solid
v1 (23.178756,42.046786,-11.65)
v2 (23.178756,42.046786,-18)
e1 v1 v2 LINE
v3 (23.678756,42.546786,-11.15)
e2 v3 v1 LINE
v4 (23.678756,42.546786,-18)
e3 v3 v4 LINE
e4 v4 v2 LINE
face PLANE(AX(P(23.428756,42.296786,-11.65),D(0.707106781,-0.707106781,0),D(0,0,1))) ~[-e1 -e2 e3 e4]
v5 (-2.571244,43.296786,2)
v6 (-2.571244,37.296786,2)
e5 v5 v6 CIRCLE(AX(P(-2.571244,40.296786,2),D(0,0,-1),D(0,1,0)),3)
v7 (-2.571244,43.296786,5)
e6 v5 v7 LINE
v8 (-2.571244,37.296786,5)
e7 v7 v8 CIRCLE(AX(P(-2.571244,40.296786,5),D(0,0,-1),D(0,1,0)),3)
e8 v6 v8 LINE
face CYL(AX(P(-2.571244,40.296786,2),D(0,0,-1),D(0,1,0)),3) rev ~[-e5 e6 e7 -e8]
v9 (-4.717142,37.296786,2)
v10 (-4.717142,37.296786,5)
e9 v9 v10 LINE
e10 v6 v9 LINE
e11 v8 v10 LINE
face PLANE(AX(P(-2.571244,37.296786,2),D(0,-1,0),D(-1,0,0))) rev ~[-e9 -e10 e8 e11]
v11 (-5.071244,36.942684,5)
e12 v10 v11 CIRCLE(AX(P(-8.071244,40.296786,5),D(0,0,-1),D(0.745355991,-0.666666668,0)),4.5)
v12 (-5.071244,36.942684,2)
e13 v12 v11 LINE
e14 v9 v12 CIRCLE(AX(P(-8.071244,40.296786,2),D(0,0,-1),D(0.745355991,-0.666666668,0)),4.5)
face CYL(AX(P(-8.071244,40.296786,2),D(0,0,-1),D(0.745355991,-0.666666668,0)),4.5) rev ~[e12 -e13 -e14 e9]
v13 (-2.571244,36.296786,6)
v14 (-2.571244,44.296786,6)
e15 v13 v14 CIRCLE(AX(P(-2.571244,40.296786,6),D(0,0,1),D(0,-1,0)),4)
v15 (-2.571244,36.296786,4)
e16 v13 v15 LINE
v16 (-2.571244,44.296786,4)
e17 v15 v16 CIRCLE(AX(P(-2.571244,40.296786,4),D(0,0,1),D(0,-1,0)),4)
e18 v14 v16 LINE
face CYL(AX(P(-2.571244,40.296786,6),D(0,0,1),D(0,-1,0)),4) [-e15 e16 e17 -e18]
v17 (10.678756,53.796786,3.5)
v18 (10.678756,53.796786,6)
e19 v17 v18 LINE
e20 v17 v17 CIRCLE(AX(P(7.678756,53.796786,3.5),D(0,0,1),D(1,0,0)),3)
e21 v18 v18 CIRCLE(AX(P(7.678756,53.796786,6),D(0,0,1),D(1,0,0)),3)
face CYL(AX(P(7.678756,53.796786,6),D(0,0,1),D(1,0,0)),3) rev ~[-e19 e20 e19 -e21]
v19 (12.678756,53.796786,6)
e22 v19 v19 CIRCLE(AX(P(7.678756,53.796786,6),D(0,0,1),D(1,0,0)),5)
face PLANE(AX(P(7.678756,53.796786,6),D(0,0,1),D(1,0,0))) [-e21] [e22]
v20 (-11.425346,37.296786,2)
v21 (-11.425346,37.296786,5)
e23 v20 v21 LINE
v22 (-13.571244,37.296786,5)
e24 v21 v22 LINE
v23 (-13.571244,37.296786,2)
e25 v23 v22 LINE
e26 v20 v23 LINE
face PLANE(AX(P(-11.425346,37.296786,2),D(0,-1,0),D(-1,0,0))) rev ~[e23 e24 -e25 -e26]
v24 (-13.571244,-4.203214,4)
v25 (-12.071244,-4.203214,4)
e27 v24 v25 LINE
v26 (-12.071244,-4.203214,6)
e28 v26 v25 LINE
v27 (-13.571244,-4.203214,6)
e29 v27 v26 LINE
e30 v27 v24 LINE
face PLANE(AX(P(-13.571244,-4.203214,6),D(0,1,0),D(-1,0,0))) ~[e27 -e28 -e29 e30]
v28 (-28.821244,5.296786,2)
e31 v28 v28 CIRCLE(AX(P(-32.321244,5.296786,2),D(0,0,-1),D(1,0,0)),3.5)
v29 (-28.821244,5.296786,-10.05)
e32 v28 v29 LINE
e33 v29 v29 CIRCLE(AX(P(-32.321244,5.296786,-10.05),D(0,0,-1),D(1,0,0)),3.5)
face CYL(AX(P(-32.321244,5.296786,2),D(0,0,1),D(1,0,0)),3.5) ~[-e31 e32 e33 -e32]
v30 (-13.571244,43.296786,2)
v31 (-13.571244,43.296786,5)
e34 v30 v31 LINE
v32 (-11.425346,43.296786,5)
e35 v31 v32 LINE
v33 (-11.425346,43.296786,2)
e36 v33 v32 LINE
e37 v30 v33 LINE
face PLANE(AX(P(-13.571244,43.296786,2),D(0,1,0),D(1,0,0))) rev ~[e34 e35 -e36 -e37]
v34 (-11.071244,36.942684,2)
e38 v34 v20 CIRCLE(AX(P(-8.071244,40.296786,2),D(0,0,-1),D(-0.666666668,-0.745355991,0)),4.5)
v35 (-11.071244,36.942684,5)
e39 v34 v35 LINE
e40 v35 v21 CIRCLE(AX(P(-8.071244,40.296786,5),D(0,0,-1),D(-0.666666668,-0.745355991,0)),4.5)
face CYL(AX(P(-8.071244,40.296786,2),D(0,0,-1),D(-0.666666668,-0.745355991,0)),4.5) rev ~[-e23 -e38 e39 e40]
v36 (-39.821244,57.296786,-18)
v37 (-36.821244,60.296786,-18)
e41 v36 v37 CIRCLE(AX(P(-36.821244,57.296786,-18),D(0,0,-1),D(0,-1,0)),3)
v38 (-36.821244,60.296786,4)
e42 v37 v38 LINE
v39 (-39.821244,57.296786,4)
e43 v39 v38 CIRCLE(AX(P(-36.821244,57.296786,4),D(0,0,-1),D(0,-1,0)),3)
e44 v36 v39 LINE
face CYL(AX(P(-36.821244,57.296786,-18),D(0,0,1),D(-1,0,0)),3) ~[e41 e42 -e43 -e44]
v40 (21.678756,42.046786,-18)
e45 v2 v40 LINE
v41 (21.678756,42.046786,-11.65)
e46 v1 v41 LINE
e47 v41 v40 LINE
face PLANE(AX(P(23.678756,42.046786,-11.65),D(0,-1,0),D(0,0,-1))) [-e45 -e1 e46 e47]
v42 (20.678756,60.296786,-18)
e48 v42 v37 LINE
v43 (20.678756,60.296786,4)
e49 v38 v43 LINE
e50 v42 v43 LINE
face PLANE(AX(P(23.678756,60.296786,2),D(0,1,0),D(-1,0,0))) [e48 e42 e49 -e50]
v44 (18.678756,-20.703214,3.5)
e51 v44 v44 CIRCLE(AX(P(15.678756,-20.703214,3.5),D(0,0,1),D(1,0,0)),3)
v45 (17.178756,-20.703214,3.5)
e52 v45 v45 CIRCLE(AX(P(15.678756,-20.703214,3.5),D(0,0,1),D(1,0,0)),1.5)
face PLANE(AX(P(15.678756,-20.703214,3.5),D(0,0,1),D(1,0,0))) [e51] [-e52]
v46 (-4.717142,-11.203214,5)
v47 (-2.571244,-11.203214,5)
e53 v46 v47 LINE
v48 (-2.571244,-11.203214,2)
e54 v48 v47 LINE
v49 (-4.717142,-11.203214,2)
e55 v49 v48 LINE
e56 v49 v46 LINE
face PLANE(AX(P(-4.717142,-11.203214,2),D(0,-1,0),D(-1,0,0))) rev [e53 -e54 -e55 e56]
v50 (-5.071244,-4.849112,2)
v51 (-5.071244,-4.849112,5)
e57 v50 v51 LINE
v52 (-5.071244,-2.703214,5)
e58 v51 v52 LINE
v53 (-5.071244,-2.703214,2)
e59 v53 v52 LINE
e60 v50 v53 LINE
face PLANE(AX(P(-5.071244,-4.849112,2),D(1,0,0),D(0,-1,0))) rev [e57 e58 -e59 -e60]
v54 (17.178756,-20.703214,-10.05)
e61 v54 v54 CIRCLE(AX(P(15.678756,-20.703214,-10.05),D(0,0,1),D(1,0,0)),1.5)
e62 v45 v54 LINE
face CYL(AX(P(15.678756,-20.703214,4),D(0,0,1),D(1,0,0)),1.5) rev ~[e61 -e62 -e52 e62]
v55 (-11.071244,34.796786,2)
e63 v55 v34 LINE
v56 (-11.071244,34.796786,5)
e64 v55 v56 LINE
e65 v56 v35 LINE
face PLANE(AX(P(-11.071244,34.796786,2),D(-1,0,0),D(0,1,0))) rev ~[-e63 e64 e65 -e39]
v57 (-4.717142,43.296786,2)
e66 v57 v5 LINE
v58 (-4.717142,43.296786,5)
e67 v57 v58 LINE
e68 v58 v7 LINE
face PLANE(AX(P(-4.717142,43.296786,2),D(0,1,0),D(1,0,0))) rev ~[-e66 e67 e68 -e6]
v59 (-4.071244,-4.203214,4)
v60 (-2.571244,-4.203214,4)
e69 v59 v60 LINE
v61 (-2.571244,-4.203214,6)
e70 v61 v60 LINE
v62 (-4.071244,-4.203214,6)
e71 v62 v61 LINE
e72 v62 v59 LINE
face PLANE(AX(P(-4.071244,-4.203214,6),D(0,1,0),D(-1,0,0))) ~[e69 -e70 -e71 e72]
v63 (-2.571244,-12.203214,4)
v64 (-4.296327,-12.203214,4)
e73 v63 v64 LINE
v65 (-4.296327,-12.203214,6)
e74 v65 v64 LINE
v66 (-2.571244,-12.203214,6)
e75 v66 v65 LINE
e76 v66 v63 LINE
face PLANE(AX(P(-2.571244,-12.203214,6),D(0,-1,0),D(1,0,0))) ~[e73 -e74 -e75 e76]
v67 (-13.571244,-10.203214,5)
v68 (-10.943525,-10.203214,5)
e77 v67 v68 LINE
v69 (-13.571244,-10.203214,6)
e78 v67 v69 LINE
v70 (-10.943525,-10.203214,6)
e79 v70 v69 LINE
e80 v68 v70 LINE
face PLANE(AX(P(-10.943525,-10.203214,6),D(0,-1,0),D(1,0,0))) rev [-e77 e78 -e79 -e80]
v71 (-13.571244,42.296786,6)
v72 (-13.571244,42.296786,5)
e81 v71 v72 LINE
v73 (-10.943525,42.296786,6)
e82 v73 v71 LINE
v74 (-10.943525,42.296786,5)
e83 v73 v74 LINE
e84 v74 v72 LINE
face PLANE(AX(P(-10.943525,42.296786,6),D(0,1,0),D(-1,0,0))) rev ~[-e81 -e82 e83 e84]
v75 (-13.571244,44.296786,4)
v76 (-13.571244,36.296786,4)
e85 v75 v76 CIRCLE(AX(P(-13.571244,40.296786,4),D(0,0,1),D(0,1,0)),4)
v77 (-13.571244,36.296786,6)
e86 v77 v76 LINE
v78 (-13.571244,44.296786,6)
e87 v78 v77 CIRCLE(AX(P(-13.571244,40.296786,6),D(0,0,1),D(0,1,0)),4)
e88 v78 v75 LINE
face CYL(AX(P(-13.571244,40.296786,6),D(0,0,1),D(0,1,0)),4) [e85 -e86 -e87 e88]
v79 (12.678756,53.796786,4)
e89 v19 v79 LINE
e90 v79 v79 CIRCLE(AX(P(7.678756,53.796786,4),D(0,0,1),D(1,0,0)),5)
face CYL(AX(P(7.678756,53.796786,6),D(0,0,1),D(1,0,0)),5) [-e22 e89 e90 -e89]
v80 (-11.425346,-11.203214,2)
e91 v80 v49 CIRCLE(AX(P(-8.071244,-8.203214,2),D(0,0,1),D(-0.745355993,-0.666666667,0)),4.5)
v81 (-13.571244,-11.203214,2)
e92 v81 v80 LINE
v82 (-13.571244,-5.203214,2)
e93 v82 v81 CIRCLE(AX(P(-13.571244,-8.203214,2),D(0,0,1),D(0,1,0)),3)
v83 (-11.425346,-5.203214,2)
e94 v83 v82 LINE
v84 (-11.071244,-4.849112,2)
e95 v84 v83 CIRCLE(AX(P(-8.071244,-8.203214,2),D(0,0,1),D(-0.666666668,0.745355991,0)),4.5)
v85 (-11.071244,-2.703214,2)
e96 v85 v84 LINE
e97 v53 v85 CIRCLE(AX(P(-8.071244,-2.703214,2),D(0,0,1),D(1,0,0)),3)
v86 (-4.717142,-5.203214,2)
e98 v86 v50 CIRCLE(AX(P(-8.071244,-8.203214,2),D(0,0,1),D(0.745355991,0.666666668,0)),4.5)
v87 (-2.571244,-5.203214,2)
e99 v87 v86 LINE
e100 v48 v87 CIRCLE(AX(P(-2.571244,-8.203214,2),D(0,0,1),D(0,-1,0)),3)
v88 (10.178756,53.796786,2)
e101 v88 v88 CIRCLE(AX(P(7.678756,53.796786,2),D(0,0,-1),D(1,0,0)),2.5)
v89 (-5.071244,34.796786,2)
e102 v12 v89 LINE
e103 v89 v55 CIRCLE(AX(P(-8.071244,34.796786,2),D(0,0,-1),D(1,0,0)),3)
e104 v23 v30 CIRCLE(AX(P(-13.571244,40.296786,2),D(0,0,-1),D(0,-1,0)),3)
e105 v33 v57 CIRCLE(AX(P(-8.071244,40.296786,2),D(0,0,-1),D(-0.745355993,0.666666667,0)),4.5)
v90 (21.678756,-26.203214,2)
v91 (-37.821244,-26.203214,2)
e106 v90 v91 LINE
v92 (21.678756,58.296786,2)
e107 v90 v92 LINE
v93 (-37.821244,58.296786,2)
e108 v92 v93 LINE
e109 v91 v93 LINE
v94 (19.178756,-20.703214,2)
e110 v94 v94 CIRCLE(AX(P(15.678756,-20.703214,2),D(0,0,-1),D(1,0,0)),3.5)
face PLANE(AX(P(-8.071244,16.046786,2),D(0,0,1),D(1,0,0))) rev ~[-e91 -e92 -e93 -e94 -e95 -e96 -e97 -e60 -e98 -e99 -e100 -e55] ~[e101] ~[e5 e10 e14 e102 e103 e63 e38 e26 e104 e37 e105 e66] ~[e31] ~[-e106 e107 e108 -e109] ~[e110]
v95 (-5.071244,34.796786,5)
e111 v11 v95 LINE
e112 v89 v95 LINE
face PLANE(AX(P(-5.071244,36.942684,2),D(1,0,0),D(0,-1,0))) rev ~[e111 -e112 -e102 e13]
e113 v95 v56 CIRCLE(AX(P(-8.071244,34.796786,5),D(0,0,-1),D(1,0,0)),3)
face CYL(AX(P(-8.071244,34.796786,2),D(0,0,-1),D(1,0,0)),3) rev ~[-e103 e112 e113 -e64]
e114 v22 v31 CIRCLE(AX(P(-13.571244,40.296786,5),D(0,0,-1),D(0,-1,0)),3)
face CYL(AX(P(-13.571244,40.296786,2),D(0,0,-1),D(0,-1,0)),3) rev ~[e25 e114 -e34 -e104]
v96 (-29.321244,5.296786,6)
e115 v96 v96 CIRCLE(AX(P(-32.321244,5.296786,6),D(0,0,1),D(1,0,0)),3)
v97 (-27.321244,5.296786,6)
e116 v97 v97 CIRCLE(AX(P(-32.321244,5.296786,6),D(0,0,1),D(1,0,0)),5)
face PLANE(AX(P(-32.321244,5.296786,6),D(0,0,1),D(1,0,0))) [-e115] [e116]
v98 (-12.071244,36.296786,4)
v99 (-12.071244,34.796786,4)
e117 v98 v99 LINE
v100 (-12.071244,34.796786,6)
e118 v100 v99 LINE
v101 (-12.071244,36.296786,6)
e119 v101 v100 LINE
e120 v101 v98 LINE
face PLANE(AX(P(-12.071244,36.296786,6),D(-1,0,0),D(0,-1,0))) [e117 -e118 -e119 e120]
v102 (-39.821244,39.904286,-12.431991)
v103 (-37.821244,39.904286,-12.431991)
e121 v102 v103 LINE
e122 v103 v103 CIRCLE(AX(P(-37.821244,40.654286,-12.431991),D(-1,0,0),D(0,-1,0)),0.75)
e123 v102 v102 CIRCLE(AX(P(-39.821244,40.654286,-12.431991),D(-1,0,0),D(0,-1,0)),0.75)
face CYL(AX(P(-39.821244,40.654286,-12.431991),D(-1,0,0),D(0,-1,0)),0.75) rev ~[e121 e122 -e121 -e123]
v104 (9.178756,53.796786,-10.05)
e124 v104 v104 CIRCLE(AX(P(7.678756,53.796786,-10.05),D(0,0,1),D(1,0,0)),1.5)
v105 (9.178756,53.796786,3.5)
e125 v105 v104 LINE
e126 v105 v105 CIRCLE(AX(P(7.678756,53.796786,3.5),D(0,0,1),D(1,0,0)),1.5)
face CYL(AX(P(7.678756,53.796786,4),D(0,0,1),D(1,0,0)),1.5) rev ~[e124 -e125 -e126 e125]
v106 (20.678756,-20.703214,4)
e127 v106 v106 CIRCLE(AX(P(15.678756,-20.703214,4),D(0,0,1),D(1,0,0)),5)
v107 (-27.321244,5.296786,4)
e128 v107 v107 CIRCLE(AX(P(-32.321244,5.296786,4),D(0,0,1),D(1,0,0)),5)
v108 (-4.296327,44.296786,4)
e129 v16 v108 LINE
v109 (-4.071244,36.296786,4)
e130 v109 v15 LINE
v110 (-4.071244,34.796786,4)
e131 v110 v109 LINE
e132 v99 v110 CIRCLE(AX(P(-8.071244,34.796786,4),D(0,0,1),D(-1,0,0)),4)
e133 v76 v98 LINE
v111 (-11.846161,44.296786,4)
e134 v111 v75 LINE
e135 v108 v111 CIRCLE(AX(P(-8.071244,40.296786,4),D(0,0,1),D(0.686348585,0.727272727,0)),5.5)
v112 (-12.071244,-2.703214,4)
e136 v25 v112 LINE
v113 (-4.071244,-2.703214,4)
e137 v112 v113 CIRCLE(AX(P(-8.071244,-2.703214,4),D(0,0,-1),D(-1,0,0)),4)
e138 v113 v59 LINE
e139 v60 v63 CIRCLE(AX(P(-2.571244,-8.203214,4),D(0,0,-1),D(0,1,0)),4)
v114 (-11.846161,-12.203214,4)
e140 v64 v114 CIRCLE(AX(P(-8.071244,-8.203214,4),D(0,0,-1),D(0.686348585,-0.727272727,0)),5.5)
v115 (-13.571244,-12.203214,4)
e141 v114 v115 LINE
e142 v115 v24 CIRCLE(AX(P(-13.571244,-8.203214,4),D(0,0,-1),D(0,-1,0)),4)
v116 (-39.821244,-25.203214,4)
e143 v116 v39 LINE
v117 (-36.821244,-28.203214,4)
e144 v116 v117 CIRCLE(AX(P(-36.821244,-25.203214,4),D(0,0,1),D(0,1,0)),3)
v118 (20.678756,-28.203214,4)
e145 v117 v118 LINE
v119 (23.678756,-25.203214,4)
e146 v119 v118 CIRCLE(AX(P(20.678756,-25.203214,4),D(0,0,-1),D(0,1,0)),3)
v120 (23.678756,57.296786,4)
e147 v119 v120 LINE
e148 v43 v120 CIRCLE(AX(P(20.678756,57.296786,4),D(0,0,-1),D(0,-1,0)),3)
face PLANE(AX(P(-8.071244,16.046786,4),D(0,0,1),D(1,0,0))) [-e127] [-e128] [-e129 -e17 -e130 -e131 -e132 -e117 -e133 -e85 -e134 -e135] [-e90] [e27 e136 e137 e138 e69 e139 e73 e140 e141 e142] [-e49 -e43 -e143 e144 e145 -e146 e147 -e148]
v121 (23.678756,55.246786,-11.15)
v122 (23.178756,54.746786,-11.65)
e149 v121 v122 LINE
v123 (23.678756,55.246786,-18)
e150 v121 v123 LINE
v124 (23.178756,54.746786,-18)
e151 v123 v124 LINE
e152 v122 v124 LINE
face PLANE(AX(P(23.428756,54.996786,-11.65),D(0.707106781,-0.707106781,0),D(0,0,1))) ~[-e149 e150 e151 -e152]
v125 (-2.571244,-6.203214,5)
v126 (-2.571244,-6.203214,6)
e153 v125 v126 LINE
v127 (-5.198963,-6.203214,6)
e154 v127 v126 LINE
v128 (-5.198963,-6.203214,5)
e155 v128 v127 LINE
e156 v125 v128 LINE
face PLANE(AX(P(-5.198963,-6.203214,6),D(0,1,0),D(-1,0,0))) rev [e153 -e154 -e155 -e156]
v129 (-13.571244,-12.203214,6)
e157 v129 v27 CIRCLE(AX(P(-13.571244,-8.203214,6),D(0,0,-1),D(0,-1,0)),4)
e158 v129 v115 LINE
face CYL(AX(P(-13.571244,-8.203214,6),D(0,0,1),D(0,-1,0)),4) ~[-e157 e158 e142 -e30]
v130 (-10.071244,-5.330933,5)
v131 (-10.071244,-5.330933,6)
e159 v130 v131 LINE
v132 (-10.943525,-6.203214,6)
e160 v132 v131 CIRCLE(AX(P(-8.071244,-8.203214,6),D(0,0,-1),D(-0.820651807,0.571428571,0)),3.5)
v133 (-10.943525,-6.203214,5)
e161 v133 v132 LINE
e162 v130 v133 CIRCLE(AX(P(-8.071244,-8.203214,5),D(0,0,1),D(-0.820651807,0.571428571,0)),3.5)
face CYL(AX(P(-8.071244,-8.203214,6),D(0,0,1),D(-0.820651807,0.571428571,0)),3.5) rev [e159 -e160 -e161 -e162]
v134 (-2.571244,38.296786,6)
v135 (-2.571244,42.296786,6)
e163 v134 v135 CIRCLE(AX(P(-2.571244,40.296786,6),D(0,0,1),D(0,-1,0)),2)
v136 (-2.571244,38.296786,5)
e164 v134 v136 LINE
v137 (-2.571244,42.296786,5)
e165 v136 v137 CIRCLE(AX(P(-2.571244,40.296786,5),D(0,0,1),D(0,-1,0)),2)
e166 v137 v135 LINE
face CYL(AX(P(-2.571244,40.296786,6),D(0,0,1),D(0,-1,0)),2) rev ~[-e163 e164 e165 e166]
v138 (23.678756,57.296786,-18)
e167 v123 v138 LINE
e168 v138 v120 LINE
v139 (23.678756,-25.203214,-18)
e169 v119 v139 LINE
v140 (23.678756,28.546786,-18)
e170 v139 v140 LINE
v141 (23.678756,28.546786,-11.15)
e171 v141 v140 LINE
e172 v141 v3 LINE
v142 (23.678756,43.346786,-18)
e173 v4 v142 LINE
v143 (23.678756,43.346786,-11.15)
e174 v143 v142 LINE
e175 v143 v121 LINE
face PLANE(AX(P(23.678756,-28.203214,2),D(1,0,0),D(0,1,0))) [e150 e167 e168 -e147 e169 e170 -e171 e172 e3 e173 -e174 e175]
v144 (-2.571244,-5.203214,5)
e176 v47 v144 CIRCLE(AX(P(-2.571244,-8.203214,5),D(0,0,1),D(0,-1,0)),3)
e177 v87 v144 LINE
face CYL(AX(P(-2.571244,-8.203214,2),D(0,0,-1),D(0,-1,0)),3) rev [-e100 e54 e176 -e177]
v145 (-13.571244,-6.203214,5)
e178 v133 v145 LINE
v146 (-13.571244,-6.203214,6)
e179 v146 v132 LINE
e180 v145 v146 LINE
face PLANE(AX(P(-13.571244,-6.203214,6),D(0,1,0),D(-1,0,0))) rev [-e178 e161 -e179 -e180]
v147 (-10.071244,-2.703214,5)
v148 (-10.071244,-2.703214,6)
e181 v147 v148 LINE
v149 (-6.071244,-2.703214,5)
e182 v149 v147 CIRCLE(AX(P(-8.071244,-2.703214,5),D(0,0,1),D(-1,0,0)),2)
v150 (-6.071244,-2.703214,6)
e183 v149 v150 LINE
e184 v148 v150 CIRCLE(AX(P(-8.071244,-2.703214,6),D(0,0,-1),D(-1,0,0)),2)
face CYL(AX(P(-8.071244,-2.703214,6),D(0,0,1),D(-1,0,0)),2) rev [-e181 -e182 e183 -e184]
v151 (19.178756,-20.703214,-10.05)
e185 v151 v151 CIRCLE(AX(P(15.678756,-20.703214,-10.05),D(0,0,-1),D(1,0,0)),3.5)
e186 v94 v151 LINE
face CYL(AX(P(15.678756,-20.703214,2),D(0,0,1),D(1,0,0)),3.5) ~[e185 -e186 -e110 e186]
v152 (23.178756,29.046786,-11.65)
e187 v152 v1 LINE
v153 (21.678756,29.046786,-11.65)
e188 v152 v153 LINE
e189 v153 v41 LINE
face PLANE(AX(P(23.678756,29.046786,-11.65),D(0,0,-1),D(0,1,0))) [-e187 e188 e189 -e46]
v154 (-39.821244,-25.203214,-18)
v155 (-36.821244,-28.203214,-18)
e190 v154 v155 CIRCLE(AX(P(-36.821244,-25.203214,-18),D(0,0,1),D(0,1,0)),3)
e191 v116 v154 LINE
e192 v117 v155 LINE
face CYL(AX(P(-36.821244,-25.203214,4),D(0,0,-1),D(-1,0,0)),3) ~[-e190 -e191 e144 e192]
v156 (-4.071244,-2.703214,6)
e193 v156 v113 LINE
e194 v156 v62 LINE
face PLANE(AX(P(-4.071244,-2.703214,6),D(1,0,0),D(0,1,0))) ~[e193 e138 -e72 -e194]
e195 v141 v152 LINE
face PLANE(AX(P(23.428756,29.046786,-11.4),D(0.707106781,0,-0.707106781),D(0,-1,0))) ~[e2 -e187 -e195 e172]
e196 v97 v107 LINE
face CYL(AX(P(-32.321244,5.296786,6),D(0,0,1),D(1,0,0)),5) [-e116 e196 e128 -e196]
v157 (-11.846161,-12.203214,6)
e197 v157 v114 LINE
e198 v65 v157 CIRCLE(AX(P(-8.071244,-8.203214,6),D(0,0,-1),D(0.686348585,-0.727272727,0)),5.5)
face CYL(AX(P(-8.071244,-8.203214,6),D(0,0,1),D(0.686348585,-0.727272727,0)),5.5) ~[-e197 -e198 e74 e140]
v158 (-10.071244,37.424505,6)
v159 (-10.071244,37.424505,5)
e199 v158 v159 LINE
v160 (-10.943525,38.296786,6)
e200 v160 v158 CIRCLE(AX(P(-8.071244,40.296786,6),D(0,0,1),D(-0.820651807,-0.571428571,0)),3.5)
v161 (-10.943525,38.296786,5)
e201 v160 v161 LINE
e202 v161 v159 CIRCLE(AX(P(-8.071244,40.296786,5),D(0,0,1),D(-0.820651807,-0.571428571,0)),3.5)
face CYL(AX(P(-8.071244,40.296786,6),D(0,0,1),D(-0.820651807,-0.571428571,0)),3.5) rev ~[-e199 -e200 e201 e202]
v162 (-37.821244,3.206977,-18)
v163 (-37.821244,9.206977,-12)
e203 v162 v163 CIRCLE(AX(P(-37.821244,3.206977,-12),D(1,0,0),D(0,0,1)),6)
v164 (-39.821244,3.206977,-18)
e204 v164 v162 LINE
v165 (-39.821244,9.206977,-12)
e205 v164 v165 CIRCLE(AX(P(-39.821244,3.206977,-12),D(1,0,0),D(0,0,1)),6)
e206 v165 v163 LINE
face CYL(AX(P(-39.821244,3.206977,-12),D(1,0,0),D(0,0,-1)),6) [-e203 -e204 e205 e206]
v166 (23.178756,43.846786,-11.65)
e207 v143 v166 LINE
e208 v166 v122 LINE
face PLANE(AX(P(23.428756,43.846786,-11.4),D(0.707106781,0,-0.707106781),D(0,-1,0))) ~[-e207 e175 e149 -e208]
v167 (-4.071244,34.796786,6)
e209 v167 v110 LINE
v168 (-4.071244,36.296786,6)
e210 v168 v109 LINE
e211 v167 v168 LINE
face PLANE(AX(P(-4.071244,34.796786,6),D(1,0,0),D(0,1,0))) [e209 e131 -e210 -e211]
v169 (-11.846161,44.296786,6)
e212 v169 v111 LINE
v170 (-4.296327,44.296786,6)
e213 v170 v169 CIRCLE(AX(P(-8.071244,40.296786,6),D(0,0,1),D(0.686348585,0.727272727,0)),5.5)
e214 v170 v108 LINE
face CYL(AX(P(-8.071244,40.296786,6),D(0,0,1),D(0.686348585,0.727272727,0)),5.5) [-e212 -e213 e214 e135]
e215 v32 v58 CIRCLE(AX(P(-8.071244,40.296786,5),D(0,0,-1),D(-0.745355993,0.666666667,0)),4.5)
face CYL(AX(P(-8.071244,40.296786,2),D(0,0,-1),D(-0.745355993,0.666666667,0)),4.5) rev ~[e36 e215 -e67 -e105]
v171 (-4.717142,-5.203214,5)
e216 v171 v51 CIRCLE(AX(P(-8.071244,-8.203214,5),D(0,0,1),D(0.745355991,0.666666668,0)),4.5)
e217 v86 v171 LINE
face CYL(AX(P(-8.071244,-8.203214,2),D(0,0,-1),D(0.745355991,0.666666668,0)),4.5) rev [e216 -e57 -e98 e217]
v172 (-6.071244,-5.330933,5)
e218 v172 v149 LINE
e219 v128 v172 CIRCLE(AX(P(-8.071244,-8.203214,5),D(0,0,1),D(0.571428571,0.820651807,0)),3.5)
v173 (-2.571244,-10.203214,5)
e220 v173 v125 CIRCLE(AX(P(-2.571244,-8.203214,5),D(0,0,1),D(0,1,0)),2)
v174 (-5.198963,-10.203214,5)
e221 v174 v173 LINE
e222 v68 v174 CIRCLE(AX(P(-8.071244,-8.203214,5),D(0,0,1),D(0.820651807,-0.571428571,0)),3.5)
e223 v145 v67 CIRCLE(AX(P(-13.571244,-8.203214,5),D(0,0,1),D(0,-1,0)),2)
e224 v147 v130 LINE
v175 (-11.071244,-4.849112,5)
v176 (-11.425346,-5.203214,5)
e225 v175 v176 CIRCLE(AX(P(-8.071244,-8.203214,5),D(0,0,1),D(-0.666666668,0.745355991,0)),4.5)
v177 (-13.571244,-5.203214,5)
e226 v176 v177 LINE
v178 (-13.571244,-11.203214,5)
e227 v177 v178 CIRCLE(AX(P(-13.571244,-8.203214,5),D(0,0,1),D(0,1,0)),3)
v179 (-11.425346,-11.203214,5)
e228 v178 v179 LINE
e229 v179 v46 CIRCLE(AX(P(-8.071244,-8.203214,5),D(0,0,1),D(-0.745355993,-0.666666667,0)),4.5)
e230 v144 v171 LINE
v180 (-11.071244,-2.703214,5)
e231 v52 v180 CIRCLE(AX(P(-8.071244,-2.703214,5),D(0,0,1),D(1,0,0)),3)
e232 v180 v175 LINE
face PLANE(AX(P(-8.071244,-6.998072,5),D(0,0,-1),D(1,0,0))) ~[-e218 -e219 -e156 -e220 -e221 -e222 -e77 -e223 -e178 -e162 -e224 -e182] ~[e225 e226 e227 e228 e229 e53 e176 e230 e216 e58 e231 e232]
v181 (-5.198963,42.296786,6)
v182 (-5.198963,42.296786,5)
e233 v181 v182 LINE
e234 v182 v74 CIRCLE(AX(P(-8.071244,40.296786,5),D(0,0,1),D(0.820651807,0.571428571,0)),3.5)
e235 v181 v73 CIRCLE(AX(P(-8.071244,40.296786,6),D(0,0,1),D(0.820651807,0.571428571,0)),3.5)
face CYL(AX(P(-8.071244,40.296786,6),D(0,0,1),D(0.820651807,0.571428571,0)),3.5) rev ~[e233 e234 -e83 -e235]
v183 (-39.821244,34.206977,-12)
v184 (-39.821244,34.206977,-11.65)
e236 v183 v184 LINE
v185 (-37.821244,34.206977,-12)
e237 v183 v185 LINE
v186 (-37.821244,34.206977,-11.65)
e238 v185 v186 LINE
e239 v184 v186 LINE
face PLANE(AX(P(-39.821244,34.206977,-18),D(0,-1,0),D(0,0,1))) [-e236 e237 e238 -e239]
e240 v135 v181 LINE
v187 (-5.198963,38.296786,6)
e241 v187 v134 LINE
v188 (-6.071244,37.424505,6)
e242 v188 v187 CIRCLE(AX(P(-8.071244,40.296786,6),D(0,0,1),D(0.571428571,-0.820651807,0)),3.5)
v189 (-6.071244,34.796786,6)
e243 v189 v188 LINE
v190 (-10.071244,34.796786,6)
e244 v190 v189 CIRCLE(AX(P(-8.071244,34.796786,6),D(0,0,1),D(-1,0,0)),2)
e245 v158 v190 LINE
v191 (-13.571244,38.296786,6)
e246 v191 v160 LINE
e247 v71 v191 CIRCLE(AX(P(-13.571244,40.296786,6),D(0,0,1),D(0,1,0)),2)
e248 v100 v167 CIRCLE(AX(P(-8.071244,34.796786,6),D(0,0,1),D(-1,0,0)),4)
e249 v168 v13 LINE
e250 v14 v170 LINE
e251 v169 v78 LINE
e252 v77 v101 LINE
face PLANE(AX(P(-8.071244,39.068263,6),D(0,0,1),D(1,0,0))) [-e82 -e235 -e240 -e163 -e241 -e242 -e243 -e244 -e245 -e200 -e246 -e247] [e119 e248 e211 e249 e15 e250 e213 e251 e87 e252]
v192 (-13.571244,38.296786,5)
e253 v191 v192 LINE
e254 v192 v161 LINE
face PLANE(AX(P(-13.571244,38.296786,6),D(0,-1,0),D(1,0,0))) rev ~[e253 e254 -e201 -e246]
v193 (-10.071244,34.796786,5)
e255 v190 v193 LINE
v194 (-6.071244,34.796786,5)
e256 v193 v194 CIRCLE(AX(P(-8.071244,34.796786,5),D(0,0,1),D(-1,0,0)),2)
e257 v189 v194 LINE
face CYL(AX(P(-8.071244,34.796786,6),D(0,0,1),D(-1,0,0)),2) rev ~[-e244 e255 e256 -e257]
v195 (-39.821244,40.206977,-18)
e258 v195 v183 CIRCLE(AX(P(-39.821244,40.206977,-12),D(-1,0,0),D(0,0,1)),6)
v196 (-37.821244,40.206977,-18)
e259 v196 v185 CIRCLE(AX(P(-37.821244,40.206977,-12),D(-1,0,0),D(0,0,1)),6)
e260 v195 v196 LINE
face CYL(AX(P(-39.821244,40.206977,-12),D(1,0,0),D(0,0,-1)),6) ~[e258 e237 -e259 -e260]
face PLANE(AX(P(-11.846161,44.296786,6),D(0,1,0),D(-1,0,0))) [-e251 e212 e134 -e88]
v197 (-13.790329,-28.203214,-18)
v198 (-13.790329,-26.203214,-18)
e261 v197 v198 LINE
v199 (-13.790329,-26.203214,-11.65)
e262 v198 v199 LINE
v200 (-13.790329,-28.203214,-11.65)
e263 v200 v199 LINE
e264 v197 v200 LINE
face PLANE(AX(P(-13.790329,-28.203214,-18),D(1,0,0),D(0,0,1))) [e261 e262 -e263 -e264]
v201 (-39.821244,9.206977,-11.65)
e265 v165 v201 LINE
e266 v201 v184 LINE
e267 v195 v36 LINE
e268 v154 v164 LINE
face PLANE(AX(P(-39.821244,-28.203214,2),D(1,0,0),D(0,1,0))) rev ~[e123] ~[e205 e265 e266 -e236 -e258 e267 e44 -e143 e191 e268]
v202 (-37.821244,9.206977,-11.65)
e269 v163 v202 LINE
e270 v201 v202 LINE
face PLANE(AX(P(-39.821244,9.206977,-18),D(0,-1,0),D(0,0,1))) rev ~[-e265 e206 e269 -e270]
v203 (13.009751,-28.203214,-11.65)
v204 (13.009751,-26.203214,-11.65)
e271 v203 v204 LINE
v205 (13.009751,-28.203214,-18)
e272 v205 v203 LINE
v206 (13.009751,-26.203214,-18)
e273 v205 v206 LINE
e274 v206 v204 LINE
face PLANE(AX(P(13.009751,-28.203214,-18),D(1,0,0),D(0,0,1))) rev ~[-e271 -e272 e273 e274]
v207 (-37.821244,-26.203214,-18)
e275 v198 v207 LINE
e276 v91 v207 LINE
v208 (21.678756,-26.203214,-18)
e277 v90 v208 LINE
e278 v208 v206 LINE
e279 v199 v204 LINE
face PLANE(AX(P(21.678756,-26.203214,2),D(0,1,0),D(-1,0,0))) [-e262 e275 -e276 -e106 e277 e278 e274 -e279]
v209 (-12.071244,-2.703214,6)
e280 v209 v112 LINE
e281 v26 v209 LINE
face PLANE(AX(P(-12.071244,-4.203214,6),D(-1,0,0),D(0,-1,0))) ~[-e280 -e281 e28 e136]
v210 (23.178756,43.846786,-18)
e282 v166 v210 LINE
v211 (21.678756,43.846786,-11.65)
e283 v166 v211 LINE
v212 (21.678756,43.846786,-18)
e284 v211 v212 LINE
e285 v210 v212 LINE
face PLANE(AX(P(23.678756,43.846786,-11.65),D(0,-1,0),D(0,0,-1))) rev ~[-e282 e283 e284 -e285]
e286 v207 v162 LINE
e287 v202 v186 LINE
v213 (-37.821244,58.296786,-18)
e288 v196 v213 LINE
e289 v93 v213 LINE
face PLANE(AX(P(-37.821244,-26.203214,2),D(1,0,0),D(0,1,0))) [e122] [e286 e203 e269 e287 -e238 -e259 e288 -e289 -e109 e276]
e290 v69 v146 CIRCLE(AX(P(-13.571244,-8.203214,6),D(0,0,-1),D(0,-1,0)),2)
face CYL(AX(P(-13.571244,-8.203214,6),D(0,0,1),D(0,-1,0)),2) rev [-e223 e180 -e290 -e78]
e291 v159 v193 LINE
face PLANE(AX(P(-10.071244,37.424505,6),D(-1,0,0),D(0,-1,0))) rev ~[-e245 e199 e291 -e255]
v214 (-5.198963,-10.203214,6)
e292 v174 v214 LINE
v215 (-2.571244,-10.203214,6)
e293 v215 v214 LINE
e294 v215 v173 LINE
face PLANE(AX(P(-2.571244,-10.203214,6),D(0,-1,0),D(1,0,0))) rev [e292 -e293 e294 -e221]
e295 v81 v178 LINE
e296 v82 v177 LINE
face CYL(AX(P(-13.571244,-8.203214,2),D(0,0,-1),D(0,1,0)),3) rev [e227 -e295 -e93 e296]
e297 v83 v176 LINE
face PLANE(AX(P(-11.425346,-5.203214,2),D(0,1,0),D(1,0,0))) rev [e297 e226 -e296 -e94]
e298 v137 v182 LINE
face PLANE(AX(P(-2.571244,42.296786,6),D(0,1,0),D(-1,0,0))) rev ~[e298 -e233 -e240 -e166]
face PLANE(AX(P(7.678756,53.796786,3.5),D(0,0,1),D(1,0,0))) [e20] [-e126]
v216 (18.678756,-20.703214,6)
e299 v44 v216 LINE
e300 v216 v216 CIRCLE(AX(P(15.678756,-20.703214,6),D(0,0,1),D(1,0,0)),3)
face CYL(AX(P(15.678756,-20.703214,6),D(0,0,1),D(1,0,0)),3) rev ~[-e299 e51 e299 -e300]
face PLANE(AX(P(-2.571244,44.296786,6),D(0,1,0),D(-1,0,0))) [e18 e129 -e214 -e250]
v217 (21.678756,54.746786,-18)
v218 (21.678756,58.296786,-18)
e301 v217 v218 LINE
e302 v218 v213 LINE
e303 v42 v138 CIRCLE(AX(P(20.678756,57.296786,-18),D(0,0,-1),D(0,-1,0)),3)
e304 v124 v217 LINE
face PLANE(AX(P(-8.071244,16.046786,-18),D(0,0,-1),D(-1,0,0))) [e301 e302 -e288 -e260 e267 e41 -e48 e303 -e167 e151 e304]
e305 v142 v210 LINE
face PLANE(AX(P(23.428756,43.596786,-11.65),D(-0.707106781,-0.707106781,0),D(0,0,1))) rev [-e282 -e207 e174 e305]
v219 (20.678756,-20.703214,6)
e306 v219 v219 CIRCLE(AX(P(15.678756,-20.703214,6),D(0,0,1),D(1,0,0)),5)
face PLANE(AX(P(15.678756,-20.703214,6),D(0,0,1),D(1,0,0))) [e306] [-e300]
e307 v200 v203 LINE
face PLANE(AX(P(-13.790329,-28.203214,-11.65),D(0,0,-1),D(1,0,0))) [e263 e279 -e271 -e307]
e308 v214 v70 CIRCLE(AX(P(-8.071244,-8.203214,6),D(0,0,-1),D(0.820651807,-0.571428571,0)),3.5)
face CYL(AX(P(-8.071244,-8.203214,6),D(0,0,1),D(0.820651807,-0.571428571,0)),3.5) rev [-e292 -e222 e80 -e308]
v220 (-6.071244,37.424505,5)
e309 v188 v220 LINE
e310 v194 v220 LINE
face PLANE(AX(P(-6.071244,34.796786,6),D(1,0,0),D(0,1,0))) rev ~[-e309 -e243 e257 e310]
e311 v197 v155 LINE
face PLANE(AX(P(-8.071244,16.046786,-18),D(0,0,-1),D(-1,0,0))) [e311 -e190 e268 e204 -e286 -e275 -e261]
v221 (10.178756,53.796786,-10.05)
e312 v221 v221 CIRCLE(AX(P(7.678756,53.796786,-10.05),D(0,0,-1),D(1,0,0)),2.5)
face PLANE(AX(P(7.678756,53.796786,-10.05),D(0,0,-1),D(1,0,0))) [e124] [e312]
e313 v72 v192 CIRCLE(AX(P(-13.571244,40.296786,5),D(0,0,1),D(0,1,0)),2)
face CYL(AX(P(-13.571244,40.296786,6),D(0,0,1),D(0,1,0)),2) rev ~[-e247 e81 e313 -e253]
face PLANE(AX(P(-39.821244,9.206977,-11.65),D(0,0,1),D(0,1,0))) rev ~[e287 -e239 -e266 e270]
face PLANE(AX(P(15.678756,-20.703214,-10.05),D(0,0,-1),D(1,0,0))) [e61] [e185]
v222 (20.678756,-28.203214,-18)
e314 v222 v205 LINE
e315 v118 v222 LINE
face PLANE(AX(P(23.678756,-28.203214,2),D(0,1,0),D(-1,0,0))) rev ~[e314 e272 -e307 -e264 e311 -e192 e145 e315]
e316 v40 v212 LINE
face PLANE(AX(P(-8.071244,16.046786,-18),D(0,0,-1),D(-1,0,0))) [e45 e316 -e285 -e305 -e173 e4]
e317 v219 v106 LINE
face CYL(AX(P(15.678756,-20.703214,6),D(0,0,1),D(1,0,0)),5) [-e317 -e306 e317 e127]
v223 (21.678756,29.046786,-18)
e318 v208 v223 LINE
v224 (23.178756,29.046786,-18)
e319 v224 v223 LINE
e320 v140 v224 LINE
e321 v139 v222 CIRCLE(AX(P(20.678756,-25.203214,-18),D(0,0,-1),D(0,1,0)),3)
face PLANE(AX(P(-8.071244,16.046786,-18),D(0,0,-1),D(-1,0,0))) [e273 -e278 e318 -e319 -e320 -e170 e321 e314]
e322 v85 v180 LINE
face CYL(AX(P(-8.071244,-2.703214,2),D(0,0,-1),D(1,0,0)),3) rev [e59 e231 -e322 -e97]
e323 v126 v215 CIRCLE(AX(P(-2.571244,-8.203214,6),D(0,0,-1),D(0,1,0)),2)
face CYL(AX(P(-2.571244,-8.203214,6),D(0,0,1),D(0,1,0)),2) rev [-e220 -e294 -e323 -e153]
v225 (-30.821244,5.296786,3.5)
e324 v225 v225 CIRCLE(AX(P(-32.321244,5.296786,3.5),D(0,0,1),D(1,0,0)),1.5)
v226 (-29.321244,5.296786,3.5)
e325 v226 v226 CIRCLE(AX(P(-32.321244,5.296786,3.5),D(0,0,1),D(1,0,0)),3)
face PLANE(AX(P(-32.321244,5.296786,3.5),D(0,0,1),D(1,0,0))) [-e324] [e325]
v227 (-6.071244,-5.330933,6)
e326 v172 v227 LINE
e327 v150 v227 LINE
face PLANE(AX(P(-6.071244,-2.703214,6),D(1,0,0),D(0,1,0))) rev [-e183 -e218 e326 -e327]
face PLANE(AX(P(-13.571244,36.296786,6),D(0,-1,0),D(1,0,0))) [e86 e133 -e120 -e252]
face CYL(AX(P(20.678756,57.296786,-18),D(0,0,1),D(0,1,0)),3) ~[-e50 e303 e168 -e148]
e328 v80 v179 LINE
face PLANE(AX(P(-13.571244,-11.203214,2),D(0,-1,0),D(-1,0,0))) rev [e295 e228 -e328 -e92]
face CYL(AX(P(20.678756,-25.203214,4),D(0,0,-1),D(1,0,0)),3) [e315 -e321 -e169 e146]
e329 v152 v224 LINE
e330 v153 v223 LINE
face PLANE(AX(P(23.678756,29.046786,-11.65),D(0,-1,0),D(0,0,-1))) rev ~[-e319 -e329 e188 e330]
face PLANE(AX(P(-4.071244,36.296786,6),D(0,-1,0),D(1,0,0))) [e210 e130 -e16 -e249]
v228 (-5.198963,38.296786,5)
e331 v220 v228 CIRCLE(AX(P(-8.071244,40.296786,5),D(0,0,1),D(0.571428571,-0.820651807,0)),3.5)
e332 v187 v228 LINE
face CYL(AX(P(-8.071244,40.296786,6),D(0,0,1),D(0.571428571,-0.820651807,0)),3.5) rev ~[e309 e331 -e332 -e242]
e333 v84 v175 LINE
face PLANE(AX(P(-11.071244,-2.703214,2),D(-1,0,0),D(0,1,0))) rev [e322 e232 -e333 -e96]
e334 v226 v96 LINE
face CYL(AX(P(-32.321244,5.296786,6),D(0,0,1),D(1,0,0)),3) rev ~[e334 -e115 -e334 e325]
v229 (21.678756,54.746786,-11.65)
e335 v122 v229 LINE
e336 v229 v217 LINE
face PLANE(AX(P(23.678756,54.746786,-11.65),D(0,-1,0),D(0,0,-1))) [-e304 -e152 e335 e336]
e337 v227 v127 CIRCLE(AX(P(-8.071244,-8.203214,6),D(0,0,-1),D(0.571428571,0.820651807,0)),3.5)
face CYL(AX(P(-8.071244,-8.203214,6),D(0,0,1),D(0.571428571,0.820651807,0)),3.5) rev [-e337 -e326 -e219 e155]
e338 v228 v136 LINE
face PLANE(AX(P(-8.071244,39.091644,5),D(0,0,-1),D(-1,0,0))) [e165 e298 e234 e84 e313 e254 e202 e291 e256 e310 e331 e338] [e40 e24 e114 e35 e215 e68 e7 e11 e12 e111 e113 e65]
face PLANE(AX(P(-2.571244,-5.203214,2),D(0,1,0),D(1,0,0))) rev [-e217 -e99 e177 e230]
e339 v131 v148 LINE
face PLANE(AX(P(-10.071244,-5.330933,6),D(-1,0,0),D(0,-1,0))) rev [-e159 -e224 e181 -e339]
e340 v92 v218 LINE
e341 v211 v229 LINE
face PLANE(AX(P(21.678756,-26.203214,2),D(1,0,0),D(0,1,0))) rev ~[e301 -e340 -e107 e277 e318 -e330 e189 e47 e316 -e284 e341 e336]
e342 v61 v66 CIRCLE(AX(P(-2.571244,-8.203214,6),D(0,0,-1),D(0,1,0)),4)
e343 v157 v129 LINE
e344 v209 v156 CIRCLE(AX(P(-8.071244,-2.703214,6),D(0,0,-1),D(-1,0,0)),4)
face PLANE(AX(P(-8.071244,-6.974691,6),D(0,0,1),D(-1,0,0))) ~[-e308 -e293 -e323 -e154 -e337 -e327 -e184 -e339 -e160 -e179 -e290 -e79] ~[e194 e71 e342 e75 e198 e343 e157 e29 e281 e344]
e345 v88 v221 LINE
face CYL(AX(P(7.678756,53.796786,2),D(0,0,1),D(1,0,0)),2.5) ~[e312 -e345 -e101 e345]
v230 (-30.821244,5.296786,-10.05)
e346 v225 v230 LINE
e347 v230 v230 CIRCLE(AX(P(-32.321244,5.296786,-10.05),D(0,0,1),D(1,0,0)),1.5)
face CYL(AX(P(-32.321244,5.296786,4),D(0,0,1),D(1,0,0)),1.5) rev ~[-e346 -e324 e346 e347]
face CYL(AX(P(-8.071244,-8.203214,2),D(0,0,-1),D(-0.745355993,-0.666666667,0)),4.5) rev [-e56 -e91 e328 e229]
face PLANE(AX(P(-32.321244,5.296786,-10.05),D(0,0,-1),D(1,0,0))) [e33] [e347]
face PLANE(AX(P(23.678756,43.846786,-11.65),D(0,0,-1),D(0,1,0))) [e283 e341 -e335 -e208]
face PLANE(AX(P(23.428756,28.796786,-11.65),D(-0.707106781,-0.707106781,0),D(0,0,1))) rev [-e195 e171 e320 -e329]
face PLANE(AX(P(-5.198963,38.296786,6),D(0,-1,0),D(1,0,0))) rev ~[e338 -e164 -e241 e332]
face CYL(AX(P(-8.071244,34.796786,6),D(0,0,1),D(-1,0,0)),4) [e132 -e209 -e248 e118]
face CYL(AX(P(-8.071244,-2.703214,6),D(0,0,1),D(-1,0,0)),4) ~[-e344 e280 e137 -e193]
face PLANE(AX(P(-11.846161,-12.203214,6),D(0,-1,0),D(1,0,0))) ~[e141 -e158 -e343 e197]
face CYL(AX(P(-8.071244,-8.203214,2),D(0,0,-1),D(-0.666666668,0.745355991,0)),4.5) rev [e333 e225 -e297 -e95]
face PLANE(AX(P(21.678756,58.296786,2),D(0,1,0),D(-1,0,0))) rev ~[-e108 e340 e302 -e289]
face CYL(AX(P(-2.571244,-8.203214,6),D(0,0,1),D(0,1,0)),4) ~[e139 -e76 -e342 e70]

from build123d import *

# Parameters (mm, degrees)
SKETCH2_W           = 63.5
SKETCH2_H           = 88.5
BOSS_EXTRUDE1_DEPTH = 2
SKETCH3_W           = 63.5
SKETCH3_H           = 88.5
SKETCH3_W_2         = 59.5
SKETCH3_H_2         = 84.5
BOSS_EXTRUDE2_DEPTH = 20
SKETCH4_W           = 6.35
SKETCH4_H           = 13
SKETCH4_H_2         = 10.9
CUT_EXTRUDE1_DEPTH  = 2
CHAMFER1_SIZE       = 0.5
SKETCH5_R           = 0.75
SKETCH5_W           = 6.35
SKETCH5_H           = 25
CUT_EXTRUDE3_DEPTH  = 2
FILLET1_R           = 6
SKETCH6_W           = 26.800079737
SKETCH6_H           = 6.35
CUT_EXTRUDE4_DEPTH  = 2
FILLET2_R           = 3
CUT_EXTRUDE5_DEPTH  = 10
BOSS_EXTRUDE3_START = 2
BOSS_EXTRUDE3_DEPTH = 2
SKETCH9_R           = 3.5
SKETCH9_R_2         = 2.5
BOSS_EXTRUDE4_DEPTH = 12.05
SKETCH10_R          = 1.5
CUT_EXTRUDE6_DEPTH  = 76.534322501
SKETCH11_R          = 3
CUT_EXTRUDE7_DEPTH  = 0.5
BOSS_EXTRUDE5_START = 2
SKETCH12_R          = 5
SKETCH12_R_2        = 3
BOSS_EXTRUDE5_DEPTH = 2
CUT_EXTRUDE8_DEPTH  = 3


with BuildPart() as part:
    # Sketch2 → Boss-Extrude1 (new body)
    with BuildSketch(Plane.XY.offset(2)):
        with Locations((-8.071244, 16.046786)):
            Rectangle(SKETCH2_W, SKETCH2_H)
    extrude(amount=BOSS_EXTRUDE1_DEPTH)

    # Sketch3 → Boss-Extrude2 (add)
    with BuildSketch(Plane(origin=(0, 0, 2), x_dir=(-1, 0, 0), z_dir=(0, 0, -1))):
        with Locations((8.071244, 16.046786)):
            Rectangle(SKETCH3_W, SKETCH3_H)
        with Locations((8.071244, 16.046786)):
            Rectangle(SKETCH3_W_2, SKETCH3_H_2, mode=Mode.SUBTRACT)
    extrude(amount=BOSS_EXTRUDE2_DEPTH)

    # Sketch4 → Cut-Extrude1 (cut)
    with BuildSketch(Plane(origin=(23.678756, 0, 0), x_dir=(0, 0, -1), z_dir=(1, 0, 0))):
        with Locations((14.825, 35.546786)):
            Rectangle(SKETCH4_W, SKETCH4_H)
        with Locations((14.825, 49.296786)):
            Rectangle(SKETCH4_W, SKETCH4_H_2)
    extrude(amount=-CUT_EXTRUDE1_DEPTH, mode=Mode.SUBTRACT)

    # Chamfer1
    chamfer1_edges = [part.edges().sort_by_distance(p)[0] for p in [
        (23.678756, 42.046786, -14.825),
        (23.678756, 35.546786, -11.65),
        (23.678756, 29.046786, -14.825),
        (23.678756, 54.746786, -14.825),
        (23.678756, 49.296786, -11.65),
        (23.678756, 43.846786, -14.825),
    ]]
    chamfer(chamfer1_edges, length=CHAMFER1_SIZE)

    # Sketch5 → Cut-Extrude3 (cut)
    with BuildSketch(Plane.ZY.offset(39.821244)):
        with Locations(Location((-12.431991388, 40.654286, 0), (0, 0, 270))):
            Circle(SKETCH5_R)
        with Locations((-14.825, 21.706977335)):
            Rectangle(SKETCH5_W, SKETCH5_H)
    extrude(amount=-CUT_EXTRUDE3_DEPTH, mode=Mode.SUBTRACT)

    # Fillet1
    fillet1_edges = [part.edges().sort_by_distance(p)[0] for p in [
        (-38.821244, 34.206977335, -18),
        (-38.821244, 9.206977335, -18),
    ]]
    fillet(fillet1_edges, radius=FILLET1_R)

    # Sketch6 → Cut-Extrude4 (cut)
    with BuildSketch(Plane.XZ.offset(28.203214)):
        with Locations((-0.390288681, -14.825)):
            Rectangle(SKETCH6_W, SKETCH6_H)
    extrude(amount=-CUT_EXTRUDE4_DEPTH, mode=Mode.SUBTRACT)

    # Fillet2
    fillet2_edges = [part.edges().sort_by_distance(p)[0] for p in [
        (-39.821244, 60.296786, -7),
        (23.678756, 60.296786, -7),
        (23.678756, -28.203214, -7),
        (-39.821244, -28.203214, -7),
    ]]
    fillet(fillet2_edges, radius=FILLET2_R)

    # Sketch7 → Cut-Extrude5 (cut)
    with BuildSketch(Plane.XY.offset(4)):
        with BuildLine():
            Line((-2.571244, -10.203214), (-5.198962677, -10.203214))
            ThreePointArc((-5.198962677, -10.203214), (-8.071244, -11.703214), (-10.943525323, -10.203214))
            Line((-10.943525323, -10.203214), (-13.571244, -10.203214))
            ThreePointArc((-13.571244, -10.203214), (-15.571244, -8.203214), (-13.571244, -6.203214))
            Line((-13.571244, -6.203214), (-10.943525323, -6.203214))
            ThreePointArc((-10.943525323, -6.203214), (-10.546117734, -5.728340266), (-10.071244, -5.330932677))
            Line((-10.071244, -5.330932677), (-10.071244, -2.703214))
            ThreePointArc((-10.071244, -2.703214), (-8.071244, -0.703214), (-6.071244, -2.703214))
            Line((-6.071244, -2.703214), (-6.071244, -5.330932677))
            ThreePointArc((-6.071244, -5.330932677), (-5.596370266, -5.728340266), (-5.198962677, -6.203214))
            Line((-5.198962677, -6.203214), (-2.571244, -6.203214))
            ThreePointArc((-2.571244, -6.203214), (-0.571244, -8.203214), (-2.571244, -10.203214))
        make_face()
        with BuildLine():
            Line((-6.071244, 34.796786), (-6.071244, 37.424504677))
            ThreePointArc((-6.071244, 37.424504677), (-5.596370266, 37.821912266), (-5.198962677, 38.296786))
            Line((-5.198962677, 38.296786), (-2.571244, 38.296786))
            ThreePointArc((-2.571244, 38.296786), (-0.571244, 40.296786), (-2.571244, 42.296786))
            Line((-2.571244, 42.296786), (-5.198962677, 42.296786))
            ThreePointArc((-5.198962677, 42.296786), (-8.071244, 43.796786), (-10.943525323, 42.296786))
            Line((-10.943525323, 42.296786), (-13.571244, 42.296786))
            ThreePointArc((-13.571244, 42.296786), (-15.571244, 40.296786), (-13.571244, 38.296786))
            Line((-13.571244, 38.296786), (-10.943525323, 38.296786))
            ThreePointArc((-10.943525323, 38.296786), (-10.546117734, 37.821912266), (-10.071244, 37.424504677))
            Line((-10.071244, 37.424504677), (-10.071244, 34.796786))
            ThreePointArc((-10.071244, 34.796786), (-8.071244, 32.796786), (-6.071244, 34.796786))
        make_face()
    extrude(amount=-CUT_EXTRUDE5_DEPTH, mode=Mode.SUBTRACT)

    # Sketch8 → Boss-Extrude3 (add)
    with BuildSketch(Plane.XY.offset(4).offset(BOSS_EXTRUDE3_START)):
        with BuildLine():
            Line((-11.846161218, 44.296786), (-13.571244, 44.296786))
            ThreePointArc((-13.571244, 44.296786), (-17.571244, 40.296786), (-13.571244, 36.296786))
            Line((-13.571244, 36.296786), (-12.071244, 36.296786))
            Line((-12.071244, 36.296786), (-12.071244, 34.796786))
            ThreePointArc((-12.071244, 34.796786), (-8.071244, 30.796786), (-4.071244, 34.796786))
            Line((-4.071244, 34.796786), (-4.071244, 36.296786))
            Line((-4.071244, 36.296786), (-2.571244, 36.296786))
            ThreePointArc((-2.571244, 36.296786), (1.428756, 40.296786), (-2.571244, 44.296786))
            Line((-2.571244, 44.296786), (-4.296326782, 44.296786))
            ThreePointArc((-4.296326782, 44.296786), (-8.071244, 45.796786), (-11.846161218, 44.296786))
        make_face()
        with BuildLine():
            Line((-2.571244, 42.296786), (-5.198962677, 42.296786))
            ThreePointArc((-5.198962677, 42.296786), (-8.071244, 43.796786), (-10.943525323, 42.296786))
            Line((-10.943525323, 42.296786), (-13.571244, 42.296786))
            ThreePointArc((-13.571244, 42.296786), (-15.571244, 40.296786), (-13.571244, 38.296786))
            Line((-13.571244, 38.296786), (-10.943525323, 38.296786))
            ThreePointArc((-10.943525323, 38.296786), (-10.546117734, 37.821912266), (-10.071244, 37.424504677))
            Line((-10.071244, 37.424504677), (-10.071244, 34.796786))
            ThreePointArc((-10.071244, 34.796786), (-8.071244, 32.796786), (-6.071244, 34.796786))
            Line((-6.071244, 34.796786), (-6.071244, 37.424504677))
            ThreePointArc((-6.071244, 37.424504677), (-5.596370266, 37.821912266), (-5.198962677, 38.296786))
            Line((-5.198962677, 38.296786), (-2.571244, 38.296786))
            ThreePointArc((-2.571244, 38.296786), (-0.571244, 40.296786), (-2.571244, 42.296786))
        make_face(mode=Mode.SUBTRACT)
    boss_extrude3 = extrude(amount=-BOSS_EXTRUDE3_DEPTH)

    # Sketch9 → Boss-Extrude4 (add)
    with BuildSketch(Plane(origin=(0, 0, 2), x_dir=(-1, 0, 0), z_dir=(0, 0, -1))):
        with Locations(Location((-15.678756, -20.703214, 0), (0, 0, 180))):
            Circle(SKETCH9_R)
        with Locations(Location((32.321244, 5.296786, 0), (0, 0, 180))):
            Circle(SKETCH9_R)
        with Locations(Location((-7.678756, 53.796786, 0), (0, 0, 180))):
            Circle(SKETCH9_R_2)
    extrude(amount=BOSS_EXTRUDE4_DEPTH)

    # Sketch10 → Cut-Extrude6 (cut, through all)
    with BuildSketch(Plane.XY.offset(4)):
        with Locations((7.678756, 53.796786)):
            Circle(SKETCH10_R)
        with Locations((15.678756, -20.703214)):
            Circle(SKETCH10_R)
        with Locations((-32.321244, 5.296786)):
            Circle(SKETCH10_R)
    extrude(amount=-CUT_EXTRUDE6_DEPTH, mode=Mode.SUBTRACT)

    # Sketch11 → Cut-Extrude7 (cut)
    with BuildSketch(Plane.XY.offset(4)):
        with Locations((7.678756, 53.796786)):
            Circle(SKETCH11_R)
        with Locations((-32.321244, 5.296786)):
            Circle(SKETCH11_R)
        with Locations((15.678756, -20.703214)):
            Circle(SKETCH11_R)
    extrude(amount=-CUT_EXTRUDE7_DEPTH, mode=Mode.SUBTRACT)

    # Sketch12 → Boss-Extrude5 (add)
    # profile 1 of 3: a face of its own
    with BuildSketch(Plane.XY.offset(4).offset(BOSS_EXTRUDE5_START)):
        with Locations((7.678756, 53.796786)):
            Circle(SKETCH12_R)
        with Locations((7.678756, 53.796786)):
            Circle(SKETCH12_R_2, mode=Mode.SUBTRACT)
    # profile 2 of 3: a face of its own
    with BuildSketch(Plane.XY.offset(4).offset(BOSS_EXTRUDE5_START)):
        with Locations((-32.321244, 5.296786)):
            Circle(SKETCH12_R)
        with Locations((-32.321244, 5.296786)):
            Circle(SKETCH12_R_2, mode=Mode.SUBTRACT)
    # profile 3 of 3: a face of its own
    with BuildSketch(Plane.XY.offset(4).offset(BOSS_EXTRUDE5_START)):
        with Locations((15.678756, -20.703214)):
            Circle(SKETCH12_R)
        with Locations((15.678756, -20.703214)):
            Circle(SKETCH12_R_2, mode=Mode.SUBTRACT)
    extrude(amount=-BOSS_EXTRUDE5_DEPTH)

    # Sketch13 → Cut-Extrude8 (cut)
    with BuildSketch(Plane(origin=(0, 0, 2), x_dir=(-1, 0, 0), z_dir=(0, 0, -1))):
        with BuildLine():
            Line((13.571244, 43.296786), (11.425345966, 43.296786))
            ThreePointArc((11.425345966, 43.296786), (8.071244, 44.796786), (4.717142034, 43.296786))
            Line((4.717142034, 43.296786), (2.571244, 43.296786))
            ThreePointArc((2.571244, 43.296786), (-0.428756, 40.296786), (2.571244, 37.296786))
            Line((2.571244, 37.296786), (4.717142034, 37.296786))
            ThreePointArc((4.717142034, 37.296786), (4.889263485, 37.114805485), (5.071244, 36.942684034))
            Line((5.071244, 36.942684034), (5.071244, 34.796786))
            ThreePointArc((5.071244, 34.796786), (8.071244, 31.796786), (11.071244, 34.796786))
            Line((11.071244, 34.796786), (11.071244, 36.942684034))
            ThreePointArc((11.071244, 36.942684034), (11.253224515, 37.114805485), (11.425345966, 37.296786))
            Line((11.425345966, 37.296786), (13.571244, 37.296786))
            ThreePointArc((13.571244, 37.296786), (16.571244, 40.296786), (13.571244, 43.296786))
        make_face()
    cut_extrude8 = extrude(amount=-CUT_EXTRUDE8_DEPTH, mode=Mode.SUBTRACT)

    # Mirror1: Boss-Extrude3, Cut-Extrude8 across plane
    add(boss_extrude3.mirror(Plane.ZX.offset(16.046786)))
    add(cut_extrude8.mirror(Plane.ZX.offset(16.046786)), mode=Mode.SUBTRACT)


solid = part.part
